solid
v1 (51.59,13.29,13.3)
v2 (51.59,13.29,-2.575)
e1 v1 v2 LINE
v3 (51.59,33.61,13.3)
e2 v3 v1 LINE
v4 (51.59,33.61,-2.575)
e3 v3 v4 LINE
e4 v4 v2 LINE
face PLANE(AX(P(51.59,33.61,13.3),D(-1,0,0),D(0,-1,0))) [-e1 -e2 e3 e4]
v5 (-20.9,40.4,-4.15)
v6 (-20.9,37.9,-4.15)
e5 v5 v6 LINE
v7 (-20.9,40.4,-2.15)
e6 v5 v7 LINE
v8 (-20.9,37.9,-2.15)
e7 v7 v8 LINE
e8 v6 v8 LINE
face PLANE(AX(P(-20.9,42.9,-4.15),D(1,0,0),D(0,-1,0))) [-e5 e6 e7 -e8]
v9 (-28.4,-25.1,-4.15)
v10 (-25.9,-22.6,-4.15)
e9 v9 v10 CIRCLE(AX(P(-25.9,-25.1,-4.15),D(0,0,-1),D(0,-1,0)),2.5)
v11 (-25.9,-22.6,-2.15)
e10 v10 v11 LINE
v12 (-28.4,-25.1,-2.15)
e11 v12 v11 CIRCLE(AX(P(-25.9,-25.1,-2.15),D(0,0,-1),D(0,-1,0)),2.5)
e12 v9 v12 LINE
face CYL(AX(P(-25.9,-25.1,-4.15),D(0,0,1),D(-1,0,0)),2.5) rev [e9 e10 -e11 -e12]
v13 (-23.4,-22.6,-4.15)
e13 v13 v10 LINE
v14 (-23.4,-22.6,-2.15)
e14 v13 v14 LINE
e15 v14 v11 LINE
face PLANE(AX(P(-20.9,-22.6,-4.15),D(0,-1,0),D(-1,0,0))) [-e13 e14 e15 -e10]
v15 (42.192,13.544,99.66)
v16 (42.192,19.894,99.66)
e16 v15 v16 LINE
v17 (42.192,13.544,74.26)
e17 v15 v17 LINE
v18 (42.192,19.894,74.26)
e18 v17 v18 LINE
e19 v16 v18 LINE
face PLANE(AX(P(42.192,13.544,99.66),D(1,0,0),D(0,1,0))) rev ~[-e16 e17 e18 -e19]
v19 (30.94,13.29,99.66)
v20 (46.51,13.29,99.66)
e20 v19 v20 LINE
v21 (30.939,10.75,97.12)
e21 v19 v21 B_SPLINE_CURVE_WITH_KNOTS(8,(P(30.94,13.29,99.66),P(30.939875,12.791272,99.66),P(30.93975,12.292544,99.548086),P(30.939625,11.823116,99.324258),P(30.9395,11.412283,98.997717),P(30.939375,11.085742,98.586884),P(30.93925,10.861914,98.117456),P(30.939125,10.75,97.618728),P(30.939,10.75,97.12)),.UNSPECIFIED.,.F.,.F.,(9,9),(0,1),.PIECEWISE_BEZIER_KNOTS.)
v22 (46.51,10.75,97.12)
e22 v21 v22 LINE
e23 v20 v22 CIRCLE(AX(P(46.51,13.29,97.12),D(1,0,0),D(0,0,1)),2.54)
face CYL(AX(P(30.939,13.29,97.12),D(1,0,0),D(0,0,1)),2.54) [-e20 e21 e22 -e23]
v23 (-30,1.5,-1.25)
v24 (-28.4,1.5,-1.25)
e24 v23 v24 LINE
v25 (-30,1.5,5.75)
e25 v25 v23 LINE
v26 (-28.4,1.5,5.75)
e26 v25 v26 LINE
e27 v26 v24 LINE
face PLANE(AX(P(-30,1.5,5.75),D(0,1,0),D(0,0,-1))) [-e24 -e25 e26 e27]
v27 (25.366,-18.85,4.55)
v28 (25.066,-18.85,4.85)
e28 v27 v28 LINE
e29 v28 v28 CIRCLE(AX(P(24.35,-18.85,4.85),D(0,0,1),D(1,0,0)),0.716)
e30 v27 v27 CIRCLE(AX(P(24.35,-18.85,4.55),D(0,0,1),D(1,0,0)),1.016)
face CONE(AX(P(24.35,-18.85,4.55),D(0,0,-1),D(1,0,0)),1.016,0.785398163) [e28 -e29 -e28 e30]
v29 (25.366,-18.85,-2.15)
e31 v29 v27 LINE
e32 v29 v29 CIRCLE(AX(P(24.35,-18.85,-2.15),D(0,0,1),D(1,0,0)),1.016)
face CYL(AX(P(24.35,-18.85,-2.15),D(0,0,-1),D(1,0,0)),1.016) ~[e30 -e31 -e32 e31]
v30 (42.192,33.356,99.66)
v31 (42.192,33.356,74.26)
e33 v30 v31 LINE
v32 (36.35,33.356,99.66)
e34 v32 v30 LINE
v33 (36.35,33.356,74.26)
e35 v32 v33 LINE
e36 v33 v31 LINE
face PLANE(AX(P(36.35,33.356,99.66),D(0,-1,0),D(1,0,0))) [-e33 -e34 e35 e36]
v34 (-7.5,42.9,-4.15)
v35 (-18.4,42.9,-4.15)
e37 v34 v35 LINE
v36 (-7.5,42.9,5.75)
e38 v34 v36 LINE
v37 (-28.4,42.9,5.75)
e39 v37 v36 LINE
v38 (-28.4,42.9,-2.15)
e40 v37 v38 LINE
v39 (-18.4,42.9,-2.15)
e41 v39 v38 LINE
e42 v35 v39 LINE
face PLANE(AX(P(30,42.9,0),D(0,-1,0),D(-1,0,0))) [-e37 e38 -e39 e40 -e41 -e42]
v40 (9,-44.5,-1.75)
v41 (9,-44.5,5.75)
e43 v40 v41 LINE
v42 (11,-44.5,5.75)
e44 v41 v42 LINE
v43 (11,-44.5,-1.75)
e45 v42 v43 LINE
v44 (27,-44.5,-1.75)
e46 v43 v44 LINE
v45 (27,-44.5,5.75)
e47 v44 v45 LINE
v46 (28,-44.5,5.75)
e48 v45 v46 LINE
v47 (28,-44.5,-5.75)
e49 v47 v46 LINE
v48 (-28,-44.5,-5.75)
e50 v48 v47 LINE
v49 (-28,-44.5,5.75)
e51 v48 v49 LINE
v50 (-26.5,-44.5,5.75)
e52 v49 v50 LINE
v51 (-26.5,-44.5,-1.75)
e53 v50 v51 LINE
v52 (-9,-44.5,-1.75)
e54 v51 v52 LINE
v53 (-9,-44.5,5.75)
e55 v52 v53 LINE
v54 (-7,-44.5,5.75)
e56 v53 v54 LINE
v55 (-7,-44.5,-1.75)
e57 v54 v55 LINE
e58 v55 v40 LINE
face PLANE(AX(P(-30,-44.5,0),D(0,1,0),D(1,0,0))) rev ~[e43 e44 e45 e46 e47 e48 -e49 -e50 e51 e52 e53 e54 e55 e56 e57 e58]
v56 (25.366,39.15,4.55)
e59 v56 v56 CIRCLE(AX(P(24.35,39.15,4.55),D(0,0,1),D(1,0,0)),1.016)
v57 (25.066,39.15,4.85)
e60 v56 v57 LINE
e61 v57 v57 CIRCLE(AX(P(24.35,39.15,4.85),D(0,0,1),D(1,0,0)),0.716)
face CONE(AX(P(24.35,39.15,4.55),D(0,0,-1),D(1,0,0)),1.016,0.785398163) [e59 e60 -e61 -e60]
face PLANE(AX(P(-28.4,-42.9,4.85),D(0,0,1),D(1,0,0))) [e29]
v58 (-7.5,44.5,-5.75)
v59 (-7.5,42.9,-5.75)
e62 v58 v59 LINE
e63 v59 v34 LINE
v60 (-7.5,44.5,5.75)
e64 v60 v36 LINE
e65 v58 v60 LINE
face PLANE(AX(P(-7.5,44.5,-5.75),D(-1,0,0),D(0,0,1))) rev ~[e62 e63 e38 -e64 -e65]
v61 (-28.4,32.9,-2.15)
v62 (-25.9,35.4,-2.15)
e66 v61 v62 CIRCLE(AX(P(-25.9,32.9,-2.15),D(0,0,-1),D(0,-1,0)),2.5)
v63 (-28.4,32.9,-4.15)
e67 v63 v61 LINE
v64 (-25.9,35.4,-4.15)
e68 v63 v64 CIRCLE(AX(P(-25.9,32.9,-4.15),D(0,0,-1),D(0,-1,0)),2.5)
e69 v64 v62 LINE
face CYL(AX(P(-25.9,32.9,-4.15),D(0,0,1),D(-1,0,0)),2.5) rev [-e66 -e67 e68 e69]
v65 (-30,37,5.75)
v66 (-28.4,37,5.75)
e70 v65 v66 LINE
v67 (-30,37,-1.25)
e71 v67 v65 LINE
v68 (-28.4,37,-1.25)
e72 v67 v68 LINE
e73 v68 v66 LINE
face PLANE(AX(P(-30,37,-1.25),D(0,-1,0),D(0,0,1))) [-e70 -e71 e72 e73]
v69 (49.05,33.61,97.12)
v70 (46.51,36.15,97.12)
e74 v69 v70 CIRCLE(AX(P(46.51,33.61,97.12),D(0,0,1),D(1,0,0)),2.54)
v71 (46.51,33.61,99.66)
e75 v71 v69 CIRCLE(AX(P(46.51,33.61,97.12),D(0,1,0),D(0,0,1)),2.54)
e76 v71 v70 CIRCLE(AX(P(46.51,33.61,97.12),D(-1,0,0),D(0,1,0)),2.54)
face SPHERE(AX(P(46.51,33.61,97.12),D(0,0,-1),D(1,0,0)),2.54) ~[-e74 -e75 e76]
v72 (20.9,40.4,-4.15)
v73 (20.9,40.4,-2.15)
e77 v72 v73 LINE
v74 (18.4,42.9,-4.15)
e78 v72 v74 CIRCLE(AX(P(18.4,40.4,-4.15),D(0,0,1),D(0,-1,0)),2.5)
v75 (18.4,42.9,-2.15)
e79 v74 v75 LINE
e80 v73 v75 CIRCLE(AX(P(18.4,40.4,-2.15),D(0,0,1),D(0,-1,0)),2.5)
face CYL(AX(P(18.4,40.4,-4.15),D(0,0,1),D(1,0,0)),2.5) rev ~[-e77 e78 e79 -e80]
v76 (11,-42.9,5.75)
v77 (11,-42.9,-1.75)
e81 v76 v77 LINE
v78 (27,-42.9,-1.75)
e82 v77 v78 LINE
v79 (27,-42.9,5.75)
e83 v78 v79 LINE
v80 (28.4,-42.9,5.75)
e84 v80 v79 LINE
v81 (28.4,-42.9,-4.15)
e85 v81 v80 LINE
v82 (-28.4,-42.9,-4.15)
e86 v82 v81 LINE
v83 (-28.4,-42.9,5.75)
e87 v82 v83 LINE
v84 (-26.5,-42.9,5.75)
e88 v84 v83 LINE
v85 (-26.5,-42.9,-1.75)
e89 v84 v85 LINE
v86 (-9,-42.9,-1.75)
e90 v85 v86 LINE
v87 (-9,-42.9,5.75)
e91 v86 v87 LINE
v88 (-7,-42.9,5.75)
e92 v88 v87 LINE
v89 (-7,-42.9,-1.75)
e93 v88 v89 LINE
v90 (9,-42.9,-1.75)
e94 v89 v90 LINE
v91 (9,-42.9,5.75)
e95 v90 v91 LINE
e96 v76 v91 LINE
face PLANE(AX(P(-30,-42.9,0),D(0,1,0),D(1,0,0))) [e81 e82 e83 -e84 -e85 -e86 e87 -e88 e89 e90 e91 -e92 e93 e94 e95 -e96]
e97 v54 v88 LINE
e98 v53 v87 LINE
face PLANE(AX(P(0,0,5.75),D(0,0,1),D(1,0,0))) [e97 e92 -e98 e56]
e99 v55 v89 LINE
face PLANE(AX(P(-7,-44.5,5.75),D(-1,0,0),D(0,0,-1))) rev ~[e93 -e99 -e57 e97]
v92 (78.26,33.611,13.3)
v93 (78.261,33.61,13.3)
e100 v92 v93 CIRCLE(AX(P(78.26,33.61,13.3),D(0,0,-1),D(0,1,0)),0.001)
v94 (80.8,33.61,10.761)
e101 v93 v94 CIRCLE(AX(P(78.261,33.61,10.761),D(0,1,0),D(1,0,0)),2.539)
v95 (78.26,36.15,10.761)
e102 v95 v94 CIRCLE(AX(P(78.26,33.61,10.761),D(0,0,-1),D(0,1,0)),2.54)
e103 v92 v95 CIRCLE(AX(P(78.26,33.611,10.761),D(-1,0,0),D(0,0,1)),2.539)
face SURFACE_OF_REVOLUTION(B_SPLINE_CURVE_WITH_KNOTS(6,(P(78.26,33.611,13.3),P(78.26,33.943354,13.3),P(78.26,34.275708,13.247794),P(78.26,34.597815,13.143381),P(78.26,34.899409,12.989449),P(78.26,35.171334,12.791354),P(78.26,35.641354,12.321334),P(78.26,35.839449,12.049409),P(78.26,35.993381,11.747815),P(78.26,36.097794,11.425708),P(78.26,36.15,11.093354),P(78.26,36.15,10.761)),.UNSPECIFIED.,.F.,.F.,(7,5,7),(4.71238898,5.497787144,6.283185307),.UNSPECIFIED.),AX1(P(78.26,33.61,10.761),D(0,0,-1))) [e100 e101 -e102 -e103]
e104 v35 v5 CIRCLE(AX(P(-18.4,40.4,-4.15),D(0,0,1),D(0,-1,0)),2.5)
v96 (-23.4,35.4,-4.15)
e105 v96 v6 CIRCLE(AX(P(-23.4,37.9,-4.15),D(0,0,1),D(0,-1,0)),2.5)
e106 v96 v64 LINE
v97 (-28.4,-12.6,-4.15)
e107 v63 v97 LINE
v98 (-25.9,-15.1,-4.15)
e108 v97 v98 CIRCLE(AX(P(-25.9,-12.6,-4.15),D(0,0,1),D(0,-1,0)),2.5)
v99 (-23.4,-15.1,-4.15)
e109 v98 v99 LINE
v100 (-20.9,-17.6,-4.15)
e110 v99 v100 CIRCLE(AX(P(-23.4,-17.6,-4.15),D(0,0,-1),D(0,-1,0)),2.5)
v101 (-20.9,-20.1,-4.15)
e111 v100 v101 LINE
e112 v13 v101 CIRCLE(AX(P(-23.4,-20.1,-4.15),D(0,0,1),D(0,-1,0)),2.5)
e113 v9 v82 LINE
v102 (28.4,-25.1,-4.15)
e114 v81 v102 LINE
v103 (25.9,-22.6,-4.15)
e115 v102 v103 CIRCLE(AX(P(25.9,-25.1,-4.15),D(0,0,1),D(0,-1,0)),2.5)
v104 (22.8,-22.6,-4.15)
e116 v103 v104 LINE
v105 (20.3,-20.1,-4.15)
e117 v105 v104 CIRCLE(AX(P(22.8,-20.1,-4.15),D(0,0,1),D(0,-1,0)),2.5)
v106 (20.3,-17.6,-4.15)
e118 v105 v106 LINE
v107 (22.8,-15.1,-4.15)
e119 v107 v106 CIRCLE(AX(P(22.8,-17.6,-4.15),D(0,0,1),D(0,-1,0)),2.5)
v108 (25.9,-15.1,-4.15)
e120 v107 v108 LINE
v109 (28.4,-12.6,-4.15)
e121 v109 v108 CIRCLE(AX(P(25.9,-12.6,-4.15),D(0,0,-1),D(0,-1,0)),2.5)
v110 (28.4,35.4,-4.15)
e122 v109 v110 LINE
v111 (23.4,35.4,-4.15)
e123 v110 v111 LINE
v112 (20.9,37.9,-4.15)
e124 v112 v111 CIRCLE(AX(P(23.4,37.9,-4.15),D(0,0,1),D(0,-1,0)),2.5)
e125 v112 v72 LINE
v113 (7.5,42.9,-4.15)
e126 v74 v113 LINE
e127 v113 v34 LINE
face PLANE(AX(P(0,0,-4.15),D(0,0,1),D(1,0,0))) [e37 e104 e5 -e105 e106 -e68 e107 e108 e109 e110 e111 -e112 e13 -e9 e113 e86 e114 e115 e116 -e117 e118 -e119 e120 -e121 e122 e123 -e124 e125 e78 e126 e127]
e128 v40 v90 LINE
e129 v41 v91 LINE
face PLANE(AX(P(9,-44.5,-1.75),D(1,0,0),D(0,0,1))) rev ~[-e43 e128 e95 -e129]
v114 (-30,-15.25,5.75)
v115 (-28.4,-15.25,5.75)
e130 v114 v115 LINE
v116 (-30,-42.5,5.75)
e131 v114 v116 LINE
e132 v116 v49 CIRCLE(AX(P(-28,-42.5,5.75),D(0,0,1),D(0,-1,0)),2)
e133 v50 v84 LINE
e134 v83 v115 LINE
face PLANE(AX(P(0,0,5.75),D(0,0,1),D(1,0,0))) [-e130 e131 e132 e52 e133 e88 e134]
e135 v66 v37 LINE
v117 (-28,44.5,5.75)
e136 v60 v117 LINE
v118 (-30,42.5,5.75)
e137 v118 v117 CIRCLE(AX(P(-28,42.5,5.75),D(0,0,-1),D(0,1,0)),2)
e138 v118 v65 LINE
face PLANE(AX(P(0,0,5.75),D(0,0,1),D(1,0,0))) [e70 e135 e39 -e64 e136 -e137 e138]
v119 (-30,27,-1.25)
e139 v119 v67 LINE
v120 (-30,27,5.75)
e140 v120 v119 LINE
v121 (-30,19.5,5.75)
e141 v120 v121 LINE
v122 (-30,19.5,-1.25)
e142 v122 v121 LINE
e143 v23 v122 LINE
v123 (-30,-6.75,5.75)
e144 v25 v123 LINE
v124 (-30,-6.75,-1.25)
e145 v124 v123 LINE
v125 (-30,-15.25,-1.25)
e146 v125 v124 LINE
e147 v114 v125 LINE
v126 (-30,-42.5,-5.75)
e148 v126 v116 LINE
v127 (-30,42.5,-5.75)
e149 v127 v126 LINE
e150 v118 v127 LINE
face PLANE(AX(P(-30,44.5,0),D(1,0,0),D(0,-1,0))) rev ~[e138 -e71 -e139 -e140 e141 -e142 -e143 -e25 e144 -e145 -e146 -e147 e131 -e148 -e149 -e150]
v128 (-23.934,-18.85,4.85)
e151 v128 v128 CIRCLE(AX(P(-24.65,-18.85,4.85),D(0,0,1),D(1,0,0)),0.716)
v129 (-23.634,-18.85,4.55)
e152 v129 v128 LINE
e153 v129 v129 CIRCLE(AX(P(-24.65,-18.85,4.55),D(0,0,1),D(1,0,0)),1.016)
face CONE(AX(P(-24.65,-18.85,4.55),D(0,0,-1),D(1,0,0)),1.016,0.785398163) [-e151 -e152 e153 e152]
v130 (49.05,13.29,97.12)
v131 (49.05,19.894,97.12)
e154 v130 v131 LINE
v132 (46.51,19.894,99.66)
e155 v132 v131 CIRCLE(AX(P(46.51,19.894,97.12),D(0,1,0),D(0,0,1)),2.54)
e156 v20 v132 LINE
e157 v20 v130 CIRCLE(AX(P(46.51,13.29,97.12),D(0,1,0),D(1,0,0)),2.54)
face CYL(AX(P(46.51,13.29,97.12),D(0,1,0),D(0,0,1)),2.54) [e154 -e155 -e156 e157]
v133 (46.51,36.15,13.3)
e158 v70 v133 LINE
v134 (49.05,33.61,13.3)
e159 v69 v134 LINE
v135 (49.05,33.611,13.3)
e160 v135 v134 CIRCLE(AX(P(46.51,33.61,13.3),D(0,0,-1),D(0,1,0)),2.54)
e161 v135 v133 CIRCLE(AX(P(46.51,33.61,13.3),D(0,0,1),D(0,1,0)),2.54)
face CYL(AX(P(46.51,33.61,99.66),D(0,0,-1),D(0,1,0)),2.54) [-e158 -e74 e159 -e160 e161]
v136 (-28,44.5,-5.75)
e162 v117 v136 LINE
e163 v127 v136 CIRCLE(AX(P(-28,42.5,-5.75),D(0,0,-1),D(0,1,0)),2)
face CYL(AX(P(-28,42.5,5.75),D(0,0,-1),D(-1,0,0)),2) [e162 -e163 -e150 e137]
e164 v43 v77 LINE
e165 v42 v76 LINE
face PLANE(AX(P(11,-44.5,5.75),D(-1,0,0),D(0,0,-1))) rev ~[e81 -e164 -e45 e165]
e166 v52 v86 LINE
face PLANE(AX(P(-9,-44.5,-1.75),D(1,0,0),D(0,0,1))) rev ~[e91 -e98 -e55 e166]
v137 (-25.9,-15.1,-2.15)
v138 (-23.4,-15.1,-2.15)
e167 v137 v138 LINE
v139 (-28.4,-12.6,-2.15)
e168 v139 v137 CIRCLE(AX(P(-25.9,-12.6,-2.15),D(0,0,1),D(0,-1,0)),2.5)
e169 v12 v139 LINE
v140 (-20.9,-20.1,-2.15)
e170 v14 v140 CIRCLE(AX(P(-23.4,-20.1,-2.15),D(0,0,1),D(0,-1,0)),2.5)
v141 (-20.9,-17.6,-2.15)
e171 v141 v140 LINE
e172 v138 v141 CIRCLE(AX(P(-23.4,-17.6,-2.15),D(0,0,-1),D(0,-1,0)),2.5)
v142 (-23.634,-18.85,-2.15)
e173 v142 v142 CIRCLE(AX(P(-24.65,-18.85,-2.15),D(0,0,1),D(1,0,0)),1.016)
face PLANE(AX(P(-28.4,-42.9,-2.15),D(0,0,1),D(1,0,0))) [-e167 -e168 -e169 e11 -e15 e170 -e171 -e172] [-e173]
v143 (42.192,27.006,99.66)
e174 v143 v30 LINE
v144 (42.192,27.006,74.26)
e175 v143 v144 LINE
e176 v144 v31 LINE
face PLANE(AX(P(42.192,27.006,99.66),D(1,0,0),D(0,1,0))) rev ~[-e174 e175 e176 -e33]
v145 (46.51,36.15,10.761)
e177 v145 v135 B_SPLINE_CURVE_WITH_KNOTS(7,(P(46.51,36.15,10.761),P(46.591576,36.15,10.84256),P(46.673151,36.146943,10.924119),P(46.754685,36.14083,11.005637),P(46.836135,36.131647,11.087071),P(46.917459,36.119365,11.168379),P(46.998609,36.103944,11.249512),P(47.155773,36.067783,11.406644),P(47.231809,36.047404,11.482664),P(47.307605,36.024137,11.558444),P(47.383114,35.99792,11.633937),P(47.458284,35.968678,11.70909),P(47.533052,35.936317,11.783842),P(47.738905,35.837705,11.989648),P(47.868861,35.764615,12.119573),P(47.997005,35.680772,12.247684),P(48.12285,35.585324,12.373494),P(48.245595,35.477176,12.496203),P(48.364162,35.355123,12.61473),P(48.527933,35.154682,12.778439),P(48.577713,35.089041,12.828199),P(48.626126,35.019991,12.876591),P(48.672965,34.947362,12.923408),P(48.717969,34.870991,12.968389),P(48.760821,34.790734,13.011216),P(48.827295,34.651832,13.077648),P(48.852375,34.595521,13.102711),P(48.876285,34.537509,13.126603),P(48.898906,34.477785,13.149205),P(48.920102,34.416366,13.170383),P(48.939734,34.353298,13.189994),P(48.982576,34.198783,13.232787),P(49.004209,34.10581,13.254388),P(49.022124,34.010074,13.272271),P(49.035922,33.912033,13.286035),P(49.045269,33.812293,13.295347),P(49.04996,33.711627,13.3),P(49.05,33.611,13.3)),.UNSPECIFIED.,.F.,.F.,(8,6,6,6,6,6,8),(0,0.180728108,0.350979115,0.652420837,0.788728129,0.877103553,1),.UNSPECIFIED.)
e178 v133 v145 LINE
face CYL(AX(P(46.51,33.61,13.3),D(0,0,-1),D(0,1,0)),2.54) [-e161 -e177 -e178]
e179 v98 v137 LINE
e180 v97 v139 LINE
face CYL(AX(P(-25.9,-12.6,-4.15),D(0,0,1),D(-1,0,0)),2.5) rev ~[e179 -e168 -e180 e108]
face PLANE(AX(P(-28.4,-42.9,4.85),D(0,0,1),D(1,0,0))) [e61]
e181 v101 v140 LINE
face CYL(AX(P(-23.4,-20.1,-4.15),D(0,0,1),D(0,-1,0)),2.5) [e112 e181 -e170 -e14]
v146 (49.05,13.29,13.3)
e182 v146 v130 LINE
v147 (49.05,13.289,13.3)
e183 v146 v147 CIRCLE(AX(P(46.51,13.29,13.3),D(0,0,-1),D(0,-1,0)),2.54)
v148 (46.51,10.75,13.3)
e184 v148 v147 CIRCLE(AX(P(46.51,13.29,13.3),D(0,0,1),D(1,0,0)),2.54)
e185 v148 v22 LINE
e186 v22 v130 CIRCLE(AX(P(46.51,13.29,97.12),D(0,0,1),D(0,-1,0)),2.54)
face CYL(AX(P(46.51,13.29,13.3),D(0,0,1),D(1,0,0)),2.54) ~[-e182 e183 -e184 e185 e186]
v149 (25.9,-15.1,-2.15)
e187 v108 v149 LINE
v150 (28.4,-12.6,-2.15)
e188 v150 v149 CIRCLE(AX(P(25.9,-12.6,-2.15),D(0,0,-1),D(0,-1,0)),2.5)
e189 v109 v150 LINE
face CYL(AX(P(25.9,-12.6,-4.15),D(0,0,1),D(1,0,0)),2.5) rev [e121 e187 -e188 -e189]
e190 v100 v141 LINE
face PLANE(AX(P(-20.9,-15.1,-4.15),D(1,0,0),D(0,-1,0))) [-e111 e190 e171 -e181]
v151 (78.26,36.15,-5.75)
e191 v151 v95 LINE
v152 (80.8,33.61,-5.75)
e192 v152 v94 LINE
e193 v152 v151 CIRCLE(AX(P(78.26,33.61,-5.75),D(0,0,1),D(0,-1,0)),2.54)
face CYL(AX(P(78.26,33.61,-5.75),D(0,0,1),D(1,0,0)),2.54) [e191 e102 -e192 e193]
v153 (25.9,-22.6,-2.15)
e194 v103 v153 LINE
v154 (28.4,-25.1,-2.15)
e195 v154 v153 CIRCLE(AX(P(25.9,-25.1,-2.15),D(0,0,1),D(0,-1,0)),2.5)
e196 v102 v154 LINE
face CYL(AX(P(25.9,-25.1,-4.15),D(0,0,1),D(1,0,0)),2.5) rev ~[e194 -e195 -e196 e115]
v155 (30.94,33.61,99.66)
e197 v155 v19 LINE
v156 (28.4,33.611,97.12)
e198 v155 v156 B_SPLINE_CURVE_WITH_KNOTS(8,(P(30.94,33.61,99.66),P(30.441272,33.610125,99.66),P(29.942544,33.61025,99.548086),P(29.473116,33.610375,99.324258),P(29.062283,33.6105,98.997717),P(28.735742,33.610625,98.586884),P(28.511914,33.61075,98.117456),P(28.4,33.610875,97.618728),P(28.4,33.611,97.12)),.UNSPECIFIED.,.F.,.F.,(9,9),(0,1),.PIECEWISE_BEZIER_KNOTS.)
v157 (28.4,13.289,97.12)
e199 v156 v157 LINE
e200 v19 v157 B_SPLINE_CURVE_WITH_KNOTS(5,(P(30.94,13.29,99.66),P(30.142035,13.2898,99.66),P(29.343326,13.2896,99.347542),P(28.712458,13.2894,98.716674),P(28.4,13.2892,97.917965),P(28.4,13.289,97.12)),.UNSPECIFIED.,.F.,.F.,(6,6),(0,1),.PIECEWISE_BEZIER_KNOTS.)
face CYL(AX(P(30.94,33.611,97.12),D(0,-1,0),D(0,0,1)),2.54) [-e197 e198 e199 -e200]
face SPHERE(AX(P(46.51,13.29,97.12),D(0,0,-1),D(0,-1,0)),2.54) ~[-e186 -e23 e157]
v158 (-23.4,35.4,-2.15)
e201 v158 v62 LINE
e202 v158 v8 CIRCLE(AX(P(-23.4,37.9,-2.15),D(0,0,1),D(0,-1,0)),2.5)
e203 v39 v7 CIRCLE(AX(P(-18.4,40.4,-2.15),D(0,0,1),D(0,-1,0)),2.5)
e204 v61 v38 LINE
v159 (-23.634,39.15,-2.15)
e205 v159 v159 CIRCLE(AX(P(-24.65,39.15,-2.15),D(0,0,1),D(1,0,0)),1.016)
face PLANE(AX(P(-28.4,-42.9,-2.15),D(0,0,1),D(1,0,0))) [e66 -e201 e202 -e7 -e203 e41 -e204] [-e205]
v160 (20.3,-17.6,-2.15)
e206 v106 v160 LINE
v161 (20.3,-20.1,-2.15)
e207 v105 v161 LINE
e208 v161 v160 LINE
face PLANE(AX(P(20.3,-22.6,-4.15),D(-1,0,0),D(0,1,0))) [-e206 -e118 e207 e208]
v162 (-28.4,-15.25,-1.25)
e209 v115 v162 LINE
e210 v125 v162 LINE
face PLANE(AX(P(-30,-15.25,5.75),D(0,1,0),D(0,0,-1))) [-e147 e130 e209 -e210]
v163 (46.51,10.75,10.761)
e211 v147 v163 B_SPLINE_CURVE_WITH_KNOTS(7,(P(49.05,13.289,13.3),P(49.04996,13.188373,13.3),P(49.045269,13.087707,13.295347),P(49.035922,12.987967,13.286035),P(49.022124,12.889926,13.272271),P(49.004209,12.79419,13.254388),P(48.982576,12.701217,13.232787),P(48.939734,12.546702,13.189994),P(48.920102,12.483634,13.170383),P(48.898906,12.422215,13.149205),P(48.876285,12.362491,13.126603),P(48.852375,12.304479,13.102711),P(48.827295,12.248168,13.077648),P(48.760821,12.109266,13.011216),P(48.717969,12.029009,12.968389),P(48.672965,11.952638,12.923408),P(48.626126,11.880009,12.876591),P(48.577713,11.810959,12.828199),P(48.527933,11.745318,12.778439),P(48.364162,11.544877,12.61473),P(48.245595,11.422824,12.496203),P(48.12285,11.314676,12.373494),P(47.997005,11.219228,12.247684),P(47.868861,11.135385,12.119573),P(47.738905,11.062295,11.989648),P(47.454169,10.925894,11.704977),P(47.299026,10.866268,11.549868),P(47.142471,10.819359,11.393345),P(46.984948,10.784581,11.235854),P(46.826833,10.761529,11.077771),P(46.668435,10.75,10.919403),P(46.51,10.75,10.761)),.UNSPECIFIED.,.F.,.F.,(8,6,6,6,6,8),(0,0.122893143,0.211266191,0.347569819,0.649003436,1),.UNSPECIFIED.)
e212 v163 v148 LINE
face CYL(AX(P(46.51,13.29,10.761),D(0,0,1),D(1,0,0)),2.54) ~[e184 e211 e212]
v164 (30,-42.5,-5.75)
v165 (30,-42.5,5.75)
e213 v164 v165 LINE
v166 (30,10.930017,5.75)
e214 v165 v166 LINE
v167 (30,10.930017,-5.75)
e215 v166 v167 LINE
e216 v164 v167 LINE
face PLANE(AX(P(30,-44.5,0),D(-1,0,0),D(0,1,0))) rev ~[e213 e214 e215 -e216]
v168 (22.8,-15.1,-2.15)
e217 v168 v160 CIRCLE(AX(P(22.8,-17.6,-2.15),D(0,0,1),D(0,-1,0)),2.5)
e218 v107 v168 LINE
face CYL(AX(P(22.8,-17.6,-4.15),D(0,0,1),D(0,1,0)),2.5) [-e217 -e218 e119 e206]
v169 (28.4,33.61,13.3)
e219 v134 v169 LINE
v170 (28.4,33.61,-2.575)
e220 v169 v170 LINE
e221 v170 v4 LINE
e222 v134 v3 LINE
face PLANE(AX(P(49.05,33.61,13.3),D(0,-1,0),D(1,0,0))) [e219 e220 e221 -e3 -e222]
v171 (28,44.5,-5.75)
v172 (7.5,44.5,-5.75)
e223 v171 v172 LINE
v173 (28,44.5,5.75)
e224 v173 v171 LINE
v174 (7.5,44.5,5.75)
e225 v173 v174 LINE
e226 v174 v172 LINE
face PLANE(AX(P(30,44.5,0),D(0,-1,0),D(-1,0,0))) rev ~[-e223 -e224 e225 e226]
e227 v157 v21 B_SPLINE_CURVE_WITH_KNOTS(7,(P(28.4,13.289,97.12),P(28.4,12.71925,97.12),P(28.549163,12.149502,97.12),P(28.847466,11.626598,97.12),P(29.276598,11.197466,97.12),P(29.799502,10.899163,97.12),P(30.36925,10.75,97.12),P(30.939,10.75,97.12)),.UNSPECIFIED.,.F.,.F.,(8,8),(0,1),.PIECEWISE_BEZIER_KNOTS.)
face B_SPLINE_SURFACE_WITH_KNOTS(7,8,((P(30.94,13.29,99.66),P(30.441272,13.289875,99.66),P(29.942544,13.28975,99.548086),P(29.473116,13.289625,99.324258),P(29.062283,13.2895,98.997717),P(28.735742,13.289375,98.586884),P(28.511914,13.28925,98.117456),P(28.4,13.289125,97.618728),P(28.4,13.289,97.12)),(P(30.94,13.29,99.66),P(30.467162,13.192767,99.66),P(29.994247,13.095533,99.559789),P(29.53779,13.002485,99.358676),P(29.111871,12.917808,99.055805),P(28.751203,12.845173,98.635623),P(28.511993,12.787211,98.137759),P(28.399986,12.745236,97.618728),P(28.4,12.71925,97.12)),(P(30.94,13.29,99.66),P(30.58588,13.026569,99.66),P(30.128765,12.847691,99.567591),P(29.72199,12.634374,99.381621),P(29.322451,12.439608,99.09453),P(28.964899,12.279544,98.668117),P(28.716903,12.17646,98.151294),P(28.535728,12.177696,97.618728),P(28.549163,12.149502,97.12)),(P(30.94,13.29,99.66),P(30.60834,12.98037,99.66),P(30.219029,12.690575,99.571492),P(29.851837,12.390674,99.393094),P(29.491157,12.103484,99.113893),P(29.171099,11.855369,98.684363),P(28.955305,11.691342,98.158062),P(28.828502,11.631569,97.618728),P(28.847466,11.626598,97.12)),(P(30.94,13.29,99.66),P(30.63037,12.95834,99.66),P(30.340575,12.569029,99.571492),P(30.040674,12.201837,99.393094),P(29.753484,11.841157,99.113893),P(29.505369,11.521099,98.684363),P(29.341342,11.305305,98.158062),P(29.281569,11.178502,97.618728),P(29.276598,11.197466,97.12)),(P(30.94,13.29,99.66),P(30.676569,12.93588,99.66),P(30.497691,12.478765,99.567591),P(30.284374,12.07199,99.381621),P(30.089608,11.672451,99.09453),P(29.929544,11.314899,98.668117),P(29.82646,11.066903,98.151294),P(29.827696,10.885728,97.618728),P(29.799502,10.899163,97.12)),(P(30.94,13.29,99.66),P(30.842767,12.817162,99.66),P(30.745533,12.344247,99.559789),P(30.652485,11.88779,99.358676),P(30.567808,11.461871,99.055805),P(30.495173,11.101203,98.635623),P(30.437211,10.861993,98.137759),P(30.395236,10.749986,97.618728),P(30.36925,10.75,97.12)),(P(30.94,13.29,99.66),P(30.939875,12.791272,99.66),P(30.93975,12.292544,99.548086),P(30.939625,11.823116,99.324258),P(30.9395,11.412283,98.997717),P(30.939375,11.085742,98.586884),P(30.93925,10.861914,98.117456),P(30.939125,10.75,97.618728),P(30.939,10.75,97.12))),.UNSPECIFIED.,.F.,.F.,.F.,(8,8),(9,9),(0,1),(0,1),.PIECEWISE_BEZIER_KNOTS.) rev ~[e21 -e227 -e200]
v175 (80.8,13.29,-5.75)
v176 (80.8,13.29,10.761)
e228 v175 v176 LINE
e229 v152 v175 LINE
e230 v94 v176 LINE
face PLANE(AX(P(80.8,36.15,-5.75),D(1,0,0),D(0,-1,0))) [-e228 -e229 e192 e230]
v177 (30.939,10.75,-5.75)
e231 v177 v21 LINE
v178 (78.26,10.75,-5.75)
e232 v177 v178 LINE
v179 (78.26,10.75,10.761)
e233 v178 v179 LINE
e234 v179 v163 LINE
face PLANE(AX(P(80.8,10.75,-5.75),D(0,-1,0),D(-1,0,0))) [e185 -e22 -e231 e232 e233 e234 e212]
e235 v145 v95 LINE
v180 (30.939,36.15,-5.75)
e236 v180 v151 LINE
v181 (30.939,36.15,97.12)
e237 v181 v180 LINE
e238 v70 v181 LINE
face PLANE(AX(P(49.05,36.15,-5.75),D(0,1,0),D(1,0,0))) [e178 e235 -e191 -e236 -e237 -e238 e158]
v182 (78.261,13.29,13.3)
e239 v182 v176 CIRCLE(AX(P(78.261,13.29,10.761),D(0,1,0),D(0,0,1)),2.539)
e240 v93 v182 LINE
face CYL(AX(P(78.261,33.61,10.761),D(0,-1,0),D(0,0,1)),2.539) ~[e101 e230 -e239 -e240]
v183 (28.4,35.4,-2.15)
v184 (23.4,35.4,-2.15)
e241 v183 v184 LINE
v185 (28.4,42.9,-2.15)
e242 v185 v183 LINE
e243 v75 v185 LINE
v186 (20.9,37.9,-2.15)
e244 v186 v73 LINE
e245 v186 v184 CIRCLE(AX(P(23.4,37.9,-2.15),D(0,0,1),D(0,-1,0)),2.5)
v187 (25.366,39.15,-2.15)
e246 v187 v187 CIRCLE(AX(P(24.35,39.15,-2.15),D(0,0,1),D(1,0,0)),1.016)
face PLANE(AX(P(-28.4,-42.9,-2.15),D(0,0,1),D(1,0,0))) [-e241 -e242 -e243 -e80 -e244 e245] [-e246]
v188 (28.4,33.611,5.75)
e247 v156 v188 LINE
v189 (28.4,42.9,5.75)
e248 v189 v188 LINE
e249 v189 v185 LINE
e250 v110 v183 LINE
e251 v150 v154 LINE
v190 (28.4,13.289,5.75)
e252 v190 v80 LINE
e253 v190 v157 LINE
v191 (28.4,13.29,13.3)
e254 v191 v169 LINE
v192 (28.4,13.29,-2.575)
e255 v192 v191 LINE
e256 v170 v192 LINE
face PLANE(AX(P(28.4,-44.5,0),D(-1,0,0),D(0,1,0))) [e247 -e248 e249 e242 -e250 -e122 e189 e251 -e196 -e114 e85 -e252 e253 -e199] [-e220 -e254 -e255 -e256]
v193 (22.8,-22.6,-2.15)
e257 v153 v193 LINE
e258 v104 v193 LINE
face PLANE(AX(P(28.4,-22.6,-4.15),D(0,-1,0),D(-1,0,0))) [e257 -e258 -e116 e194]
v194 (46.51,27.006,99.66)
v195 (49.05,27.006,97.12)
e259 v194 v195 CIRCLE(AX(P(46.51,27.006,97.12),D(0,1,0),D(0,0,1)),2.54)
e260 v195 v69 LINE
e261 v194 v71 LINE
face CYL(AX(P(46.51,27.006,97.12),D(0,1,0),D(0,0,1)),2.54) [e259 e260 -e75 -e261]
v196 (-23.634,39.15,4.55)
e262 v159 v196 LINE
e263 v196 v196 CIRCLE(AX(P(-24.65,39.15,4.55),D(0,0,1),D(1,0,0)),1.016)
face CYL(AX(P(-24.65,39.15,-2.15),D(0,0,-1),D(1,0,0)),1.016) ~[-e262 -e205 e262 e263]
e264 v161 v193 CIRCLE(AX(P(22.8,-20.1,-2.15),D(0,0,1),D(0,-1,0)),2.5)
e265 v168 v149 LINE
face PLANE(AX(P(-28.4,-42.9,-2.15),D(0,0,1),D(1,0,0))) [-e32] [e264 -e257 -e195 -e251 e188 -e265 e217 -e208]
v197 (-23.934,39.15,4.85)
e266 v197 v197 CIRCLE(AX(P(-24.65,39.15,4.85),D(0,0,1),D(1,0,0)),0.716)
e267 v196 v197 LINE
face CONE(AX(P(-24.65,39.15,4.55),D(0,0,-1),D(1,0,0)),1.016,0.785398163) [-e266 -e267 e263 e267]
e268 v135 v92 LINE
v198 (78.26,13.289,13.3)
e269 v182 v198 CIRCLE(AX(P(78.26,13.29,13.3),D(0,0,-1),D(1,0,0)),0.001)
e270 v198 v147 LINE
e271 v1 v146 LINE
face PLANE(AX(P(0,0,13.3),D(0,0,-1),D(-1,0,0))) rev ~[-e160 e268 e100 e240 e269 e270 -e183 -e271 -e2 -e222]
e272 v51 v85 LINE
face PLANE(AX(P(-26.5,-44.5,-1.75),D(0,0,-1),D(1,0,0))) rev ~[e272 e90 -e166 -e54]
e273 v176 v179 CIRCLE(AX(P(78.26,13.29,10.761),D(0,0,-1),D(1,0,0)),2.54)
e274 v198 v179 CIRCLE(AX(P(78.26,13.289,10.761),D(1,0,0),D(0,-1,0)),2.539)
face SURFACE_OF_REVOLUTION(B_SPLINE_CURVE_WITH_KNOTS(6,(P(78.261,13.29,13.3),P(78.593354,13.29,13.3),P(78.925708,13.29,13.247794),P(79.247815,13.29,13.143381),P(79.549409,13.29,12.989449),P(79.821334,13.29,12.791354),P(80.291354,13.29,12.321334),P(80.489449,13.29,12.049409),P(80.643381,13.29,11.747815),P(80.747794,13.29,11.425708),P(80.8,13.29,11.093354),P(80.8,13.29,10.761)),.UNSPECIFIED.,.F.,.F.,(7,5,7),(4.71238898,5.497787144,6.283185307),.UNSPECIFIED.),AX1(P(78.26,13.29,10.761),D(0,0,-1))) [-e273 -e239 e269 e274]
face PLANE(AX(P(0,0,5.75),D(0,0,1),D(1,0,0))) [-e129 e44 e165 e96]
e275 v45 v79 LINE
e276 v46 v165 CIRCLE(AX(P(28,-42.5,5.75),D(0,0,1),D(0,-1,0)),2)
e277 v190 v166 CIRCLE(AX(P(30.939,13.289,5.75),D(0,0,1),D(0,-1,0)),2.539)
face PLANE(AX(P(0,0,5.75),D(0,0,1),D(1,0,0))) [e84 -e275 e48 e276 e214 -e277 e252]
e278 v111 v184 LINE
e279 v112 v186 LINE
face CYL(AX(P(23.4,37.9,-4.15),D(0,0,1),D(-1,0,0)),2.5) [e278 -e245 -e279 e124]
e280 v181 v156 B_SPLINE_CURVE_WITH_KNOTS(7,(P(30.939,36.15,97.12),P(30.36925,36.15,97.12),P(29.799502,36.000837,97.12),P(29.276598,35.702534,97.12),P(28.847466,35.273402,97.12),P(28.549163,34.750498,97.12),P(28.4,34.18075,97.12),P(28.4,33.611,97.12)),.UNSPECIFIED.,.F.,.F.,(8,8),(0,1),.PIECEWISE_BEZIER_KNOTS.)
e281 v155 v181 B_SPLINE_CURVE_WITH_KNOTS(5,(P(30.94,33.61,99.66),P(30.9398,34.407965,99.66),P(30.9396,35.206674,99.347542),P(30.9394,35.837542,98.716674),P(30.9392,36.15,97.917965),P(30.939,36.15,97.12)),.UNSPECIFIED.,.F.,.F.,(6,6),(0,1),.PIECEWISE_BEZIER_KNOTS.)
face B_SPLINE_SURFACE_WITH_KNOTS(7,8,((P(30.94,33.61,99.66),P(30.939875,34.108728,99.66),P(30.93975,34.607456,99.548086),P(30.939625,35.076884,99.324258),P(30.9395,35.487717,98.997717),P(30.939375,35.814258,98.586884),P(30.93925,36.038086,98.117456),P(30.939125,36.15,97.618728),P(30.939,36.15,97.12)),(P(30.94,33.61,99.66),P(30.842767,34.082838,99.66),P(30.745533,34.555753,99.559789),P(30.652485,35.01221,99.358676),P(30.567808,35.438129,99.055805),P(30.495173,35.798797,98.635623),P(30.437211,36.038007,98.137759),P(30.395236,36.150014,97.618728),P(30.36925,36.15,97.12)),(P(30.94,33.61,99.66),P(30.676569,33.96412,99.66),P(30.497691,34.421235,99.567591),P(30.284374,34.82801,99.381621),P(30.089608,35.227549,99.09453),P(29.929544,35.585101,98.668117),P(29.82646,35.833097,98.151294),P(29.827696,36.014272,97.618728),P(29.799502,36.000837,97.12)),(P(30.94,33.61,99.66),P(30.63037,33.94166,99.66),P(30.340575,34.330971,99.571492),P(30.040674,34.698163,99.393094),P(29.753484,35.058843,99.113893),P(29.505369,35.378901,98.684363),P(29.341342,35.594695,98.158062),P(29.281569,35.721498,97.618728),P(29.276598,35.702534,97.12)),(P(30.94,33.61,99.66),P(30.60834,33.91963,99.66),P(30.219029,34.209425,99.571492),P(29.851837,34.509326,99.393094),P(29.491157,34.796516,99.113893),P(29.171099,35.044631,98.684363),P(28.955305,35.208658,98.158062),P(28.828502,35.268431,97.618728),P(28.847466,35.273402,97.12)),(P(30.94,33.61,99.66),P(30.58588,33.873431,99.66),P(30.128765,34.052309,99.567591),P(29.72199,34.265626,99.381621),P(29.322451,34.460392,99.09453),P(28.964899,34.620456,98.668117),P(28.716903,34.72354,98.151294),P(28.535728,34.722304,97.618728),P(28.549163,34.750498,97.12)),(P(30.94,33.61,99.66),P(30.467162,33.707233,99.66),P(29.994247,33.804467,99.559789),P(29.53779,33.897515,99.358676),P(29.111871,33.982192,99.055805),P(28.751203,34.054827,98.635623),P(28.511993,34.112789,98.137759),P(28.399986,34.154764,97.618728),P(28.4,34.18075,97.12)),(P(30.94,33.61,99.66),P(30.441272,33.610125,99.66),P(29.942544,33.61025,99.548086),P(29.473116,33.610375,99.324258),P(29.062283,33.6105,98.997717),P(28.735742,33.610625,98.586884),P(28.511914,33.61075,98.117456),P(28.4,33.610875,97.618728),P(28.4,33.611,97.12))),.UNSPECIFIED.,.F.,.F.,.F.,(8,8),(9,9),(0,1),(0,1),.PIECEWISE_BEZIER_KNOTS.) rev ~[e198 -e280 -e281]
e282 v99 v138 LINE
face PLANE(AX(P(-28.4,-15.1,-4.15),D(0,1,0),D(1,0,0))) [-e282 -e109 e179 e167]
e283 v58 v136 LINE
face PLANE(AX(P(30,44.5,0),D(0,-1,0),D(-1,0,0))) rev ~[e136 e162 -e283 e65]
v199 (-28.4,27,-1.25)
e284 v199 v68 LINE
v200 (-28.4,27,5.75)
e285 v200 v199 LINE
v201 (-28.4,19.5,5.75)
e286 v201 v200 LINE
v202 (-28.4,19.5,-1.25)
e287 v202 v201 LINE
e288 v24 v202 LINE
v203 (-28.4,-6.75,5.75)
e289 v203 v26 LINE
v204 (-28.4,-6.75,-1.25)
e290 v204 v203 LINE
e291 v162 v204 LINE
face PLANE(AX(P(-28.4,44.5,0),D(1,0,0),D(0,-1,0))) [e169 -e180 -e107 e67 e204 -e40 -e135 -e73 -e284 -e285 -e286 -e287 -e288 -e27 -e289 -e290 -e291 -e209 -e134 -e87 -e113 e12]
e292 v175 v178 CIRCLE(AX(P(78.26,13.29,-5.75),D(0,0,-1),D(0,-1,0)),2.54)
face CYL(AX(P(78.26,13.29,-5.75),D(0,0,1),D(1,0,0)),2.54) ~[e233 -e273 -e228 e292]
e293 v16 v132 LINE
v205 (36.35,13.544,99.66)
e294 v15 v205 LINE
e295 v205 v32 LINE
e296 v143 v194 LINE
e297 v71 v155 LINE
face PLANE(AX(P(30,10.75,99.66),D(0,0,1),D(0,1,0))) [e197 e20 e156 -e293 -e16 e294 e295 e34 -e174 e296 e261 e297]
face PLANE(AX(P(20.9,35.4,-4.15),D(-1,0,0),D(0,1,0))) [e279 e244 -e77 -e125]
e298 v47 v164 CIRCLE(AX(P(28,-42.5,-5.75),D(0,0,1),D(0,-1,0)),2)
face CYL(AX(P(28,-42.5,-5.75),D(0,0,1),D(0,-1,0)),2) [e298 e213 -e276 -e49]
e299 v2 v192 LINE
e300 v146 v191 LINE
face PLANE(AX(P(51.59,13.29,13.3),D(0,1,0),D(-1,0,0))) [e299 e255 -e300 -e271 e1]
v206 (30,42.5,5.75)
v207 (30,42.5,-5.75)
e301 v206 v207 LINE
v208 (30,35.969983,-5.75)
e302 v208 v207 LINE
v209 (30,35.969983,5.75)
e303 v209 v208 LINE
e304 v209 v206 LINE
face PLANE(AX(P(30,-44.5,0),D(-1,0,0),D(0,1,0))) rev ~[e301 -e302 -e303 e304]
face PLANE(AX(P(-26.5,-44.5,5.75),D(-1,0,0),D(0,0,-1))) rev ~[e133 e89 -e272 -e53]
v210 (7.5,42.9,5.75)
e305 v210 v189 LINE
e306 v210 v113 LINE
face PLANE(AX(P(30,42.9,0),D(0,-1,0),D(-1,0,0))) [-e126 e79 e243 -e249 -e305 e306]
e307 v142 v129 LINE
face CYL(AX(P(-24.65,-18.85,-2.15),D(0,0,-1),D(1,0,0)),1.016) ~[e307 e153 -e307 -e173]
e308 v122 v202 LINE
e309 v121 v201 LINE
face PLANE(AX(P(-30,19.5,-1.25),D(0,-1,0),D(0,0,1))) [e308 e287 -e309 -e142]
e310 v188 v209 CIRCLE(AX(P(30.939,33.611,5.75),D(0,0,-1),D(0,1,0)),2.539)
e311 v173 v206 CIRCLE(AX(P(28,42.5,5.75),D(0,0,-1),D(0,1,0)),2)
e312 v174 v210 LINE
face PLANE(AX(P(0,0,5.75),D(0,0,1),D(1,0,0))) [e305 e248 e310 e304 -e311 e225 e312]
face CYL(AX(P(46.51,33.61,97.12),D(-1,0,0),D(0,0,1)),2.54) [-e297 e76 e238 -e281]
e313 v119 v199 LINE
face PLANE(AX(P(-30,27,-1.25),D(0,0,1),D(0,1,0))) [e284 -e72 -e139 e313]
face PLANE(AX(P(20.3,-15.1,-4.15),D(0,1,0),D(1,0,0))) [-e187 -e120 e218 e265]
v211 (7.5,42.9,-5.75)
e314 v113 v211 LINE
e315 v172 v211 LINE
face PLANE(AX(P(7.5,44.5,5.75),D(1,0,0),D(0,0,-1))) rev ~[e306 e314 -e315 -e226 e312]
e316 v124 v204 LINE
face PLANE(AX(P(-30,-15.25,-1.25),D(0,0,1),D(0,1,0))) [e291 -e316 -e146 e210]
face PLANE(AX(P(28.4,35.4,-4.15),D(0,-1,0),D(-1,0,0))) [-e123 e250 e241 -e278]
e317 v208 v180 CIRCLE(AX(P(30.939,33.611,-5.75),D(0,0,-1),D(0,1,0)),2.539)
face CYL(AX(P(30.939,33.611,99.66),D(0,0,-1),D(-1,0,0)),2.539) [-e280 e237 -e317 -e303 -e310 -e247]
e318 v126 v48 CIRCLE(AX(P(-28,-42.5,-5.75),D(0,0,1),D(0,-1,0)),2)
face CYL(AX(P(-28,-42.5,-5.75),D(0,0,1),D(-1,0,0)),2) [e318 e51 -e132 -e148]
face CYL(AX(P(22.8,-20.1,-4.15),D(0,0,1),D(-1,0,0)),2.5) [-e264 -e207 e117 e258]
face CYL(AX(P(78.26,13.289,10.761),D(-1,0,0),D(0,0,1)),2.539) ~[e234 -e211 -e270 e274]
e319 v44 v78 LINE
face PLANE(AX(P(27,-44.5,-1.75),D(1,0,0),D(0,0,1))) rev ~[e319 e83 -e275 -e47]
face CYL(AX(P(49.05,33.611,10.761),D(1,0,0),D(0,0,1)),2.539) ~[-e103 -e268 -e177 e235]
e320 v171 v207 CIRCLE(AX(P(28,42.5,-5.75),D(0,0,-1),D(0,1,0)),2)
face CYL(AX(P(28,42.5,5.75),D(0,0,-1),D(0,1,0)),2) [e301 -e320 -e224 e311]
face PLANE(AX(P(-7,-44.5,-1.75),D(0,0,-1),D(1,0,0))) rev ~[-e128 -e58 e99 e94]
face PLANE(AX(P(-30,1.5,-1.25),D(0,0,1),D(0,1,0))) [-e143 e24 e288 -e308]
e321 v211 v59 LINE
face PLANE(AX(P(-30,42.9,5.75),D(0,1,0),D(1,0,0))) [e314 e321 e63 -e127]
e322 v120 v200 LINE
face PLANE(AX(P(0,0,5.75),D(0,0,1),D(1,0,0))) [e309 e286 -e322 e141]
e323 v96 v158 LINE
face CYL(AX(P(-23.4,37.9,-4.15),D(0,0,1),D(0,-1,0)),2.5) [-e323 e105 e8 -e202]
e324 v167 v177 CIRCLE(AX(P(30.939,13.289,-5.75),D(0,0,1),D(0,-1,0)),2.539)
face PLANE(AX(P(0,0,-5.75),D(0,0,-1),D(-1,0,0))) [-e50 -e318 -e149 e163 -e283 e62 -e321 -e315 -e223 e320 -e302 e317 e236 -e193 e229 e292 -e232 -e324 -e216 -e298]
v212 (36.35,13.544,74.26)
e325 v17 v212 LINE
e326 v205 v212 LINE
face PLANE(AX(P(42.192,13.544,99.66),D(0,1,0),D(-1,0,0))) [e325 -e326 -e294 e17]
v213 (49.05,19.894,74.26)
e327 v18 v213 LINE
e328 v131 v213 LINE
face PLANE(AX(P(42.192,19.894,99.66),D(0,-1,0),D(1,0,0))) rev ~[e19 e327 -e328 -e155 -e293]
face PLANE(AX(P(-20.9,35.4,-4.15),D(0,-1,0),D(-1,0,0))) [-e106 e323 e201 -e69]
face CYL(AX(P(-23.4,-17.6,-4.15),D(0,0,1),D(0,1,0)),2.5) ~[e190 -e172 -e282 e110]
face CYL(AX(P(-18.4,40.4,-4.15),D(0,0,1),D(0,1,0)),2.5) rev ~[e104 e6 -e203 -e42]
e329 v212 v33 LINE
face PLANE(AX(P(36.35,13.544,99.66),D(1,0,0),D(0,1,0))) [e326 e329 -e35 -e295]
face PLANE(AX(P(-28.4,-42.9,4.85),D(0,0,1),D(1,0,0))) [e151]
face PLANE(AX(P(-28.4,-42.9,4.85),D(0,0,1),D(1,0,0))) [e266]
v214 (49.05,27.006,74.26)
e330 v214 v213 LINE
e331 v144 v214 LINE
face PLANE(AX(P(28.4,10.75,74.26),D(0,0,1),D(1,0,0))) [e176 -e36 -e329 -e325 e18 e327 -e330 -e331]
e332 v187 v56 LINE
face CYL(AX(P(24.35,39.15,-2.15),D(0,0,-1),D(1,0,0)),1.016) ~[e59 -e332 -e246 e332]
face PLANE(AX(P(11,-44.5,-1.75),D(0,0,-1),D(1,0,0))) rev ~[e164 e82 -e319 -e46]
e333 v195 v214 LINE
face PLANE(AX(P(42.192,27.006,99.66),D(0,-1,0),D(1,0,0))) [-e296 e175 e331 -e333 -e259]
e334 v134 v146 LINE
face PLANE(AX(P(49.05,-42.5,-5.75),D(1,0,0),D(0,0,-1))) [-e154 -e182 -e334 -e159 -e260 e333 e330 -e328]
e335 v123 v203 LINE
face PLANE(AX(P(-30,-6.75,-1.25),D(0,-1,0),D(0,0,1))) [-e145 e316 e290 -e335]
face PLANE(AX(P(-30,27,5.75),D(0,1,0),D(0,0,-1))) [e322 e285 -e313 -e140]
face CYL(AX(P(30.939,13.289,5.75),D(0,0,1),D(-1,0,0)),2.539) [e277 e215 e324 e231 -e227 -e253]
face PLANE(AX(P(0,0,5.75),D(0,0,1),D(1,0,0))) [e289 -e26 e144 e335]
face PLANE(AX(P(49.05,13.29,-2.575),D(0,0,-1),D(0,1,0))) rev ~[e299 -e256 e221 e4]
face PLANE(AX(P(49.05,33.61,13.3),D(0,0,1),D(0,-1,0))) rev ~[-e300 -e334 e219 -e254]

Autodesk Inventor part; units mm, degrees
ref_plane "YZ Plane" through (0, 0, 0) normal (1, 0, 0) x (0, 1, 0)
ref_plane "XZ Plane" through (0, 0, 0) normal (0, 1, 0) x (-1, 0, 0)
ref_plane "XY Plane" through (0, 0, 0) normal (0, 0, 1) x (1, 0, 0)
sketch "Esquisse1" plane through (0, 0, 0) normal (0, 0, 1) x (1, 0, 0)
  line L0 (-30, -44.5) -> (30, -44.5)
  line L1 (30, -44.5) -> (30, 44.5)
  line L2 (30, 44.5) -> (-30, 44.5)
  line L3 (-30, 44.5) -> (-30, -44.5)
  line L4 (-30, -44.5) -> (30, 44.5) construction
  line L5 (30, -44.5) -> (-30, 44.5) construction
  point P0 (0, 0)
  dimension "Largeur_boite" = 60
  dimension "Longueur_boite" = 89
extrude "Embase" add sketch "Esquisse1" along normal mid plane 11.5
shell "Coque" thickness 1.6 removed faces 1 at (-10, 14.8333, 5.75)
sketch "Esquisse2" plane through (-28.4, -42.9, -4.15) normal (0, 0, 1) x (1, 0, 0)
  line L0 (0, 85.8) -> (7.5, 85.8)
  line L1 (7.5, 85.8) -> (7.5, 78.3)
  line L2 (7.5, 78.3) -> (0, 78.3)
  line L3 (0, 78.3) -> (0, 85.8)
  line L4 (0, 85.8) -> (7.5, 78.3) construction
  line L5 (7.5, 85.8) -> (0, 78.3) construction
  line L6 (0, 27.8) -> (7.5, 27.8)
  line L7 (7.5, 27.8) -> (7.5, 20.3)
  line L8 (7.5, 20.3) -> (0, 20.3)
  line L9 (0, 20.3) -> (0, 27.8)
  line L10 (0, 27.8) -> (7.5, 20.3) construction
  line L11 (7.5, 27.8) -> (0, 20.3) construction
  line L12 (49.3, 85.8) -> (56.8, 85.8)
  line L13 (56.8, 85.8) -> (56.8, 78.3)
  line L14 (56.8, 78.3) -> (49.3, 78.3)
  line L15 (49.3, 78.3) -> (49.3, 85.8)
  line L16 (49.3, 85.8) -> (56.8, 78.3) construction
  line L17 (56.8, 85.8) -> (49.3, 78.3) construction
  line L18 (48.7, 27.8) -> (56.8, 27.8)
  line L19 (56.8, 27.8) -> (56.8, 20.3)
  line L20 (56.8, 20.3) -> (48.7, 20.3)
  line L21 (48.7, 20.3) -> (48.7, 27.8)
  line L22 (48.7, 27.8) -> (56.8, 20.3) construction
  line L23 (56.8, 27.8) -> (48.7, 20.3) construction
  line L24 (0, 85.8) -> (56.8, 85.8) projected
  line L25 (0, 0) -> (0, 85.8) projected
  line L26 (56.8, 85.8) -> (56.8, 0) projected
  point P0 (28.4, 42.9)
  point P1 (3.75, 82.05)
  point P2 (3.75, 24.05)
  point P3 (53.05, 82.05)
  point P4 (52.75, 24.05)
  point P5 (3.75, 24.05)
  point P6 (52.75, 24.05)
  point P7 (53.05, 82.05)
  point P8 (3.75, 82.05)
  dimension "d5" = 58
  dimension "d6" = 49
  dimension "Largeur_support" = 7.5
  dimension "d8" = 7.5
  dimension "d9" = 7.5
  dimension "d10" = 7.5
extrude "Support axe" add sketch "Esquisse2" along normal blind 2
sketch "Esquisse3" plane through (-28.4, -42.9, -2.15) normal (0, 0, 1) x (1, 0, 0)
  line L0 (49.3, 85.8) -> (56.8, 85.8) construction
  line L1 (49.3, 85.8) -> (49.3, 78.3) construction
  line L2 (49.3, 78.3) -> (56.8, 78.3) construction
  line L3 (56.8, 85.8) -> (56.8, 78.3) construction
  line L4 (0, 85.8) -> (7.5, 85.8) construction
  line L5 (0, 78.3) -> (0, 85.8) construction
  line L6 (0, 78.3) -> (7.5, 78.3) construction
  line L7 (7.5, 78.3) -> (7.5, 85.8) construction
  line L8 (7.5, 27.8) -> (0, 27.8) construction
  line L9 (0, 20.3) -> (0, 27.8) construction
  line L10 (0, 20.3) -> (7.5, 20.3) construction
  line L11 (7.5, 20.3) -> (7.5, 27.8) construction
  line L12 (56.8, 27.8) -> (48.7, 27.8) construction
  line L13 (48.7, 27.8) -> (48.7, 20.3) construction
  line L14 (48.7, 20.3) -> (56.8, 20.3) construction
  line L15 (56.8, 27.8) -> (56.8, 20.3) construction
  circle A0 centre (3.75, 82.05) radius 1.016
  circle A1 centre (52.75, 82.05) radius 1.016
  circle A2 centre (52.75, 24.05) radius 1.016
  circle A3 centre (3.75, 24.05) radius 1.016
  point P0 (28.4, 42.9)
  point P1 (7.5, 24.05)
  point P2 (48.7, 24.05)
  point P3 (7.5, 82.05)
  point P4 (49.3, 82.05)
  point P5 (3.75, 78.3)
  point P6 (53.05, 78.3)
  point P7 (3.75, 20.3)
  point P8 (52.75, 20.3)
  dimension "Hauteur_axe" = 2.032
  dimension "d14" = 2.032
  dimension "d15" = 2.032
  dimension "d16" = 2.032
  dimension "d54" = 3.45
extrude "Axe" add sketch "Esquisse3" along normal blind 7
sketch "Esquisse4" plane through (-30, -44.5, -5.75) normal (0, -1, 0) x (1, 0, 0)
  line L0 (3.5, 4) -> (21, 4)
  line L1 (21, 4) -> (21, 11.5)
  line L2 (21, 11.5) -> (3.5, 11.5)
  line L3 (3.5, 11.5) -> (3.5, 4)
  line L4 (23, 4) -> (39, 4)
  line L5 (39, 4) -> (39, 11.5)
  line L6 (39, 11.5) -> (23, 11.5)
  line L7 (23, 11.5) -> (23, 4)
  line L8 (41, 4) -> (57, 4)
  line L9 (57, 4) -> (57, 11.5)
  line L10 (57, 11.5) -> (41, 11.5)
  line L11 (41, 11.5) -> (41, 4)
  line L12 (0, 11.5) -> (0, 0) projected
  line L13 (0, 11.5) -> (60, 11.5) projected
  line L14 (60, 0) -> (0, 0) projected
  point P0 (30, 5.75)
  dimension "d19" = 17.5
  dimension "d20" = 16
  dimension "d21" = 16
  dimension "d22" = 3.5
  dimension "d23" = 2
  dimension "d24" = 2
  dimension "d28" = 4
extrude "Passage USB/Ethernet" cut sketch "Esquisse4" against normal up to surface (1.6 mm away)
sketch "Esquisse6" plane through (-30, -44.5, 5.75) normal (-1, 0, 0) x (0, 0, 1)
  line L0 (-7, 64) -> (0, 64)
  line L1 (0, 64) -> (0, 46)
  line L2 (0, 46) -> (-7, 46)
  line L3 (-7, 46) -> (-7, 64)
  line L4 (-11.5, 89) -> (0, 89) projected
  line L5 (0, 89) -> (0, 0) projected
  point P0 (-5.75, 44.5)
  dimension "d29" = 25
  dimension "d30" = 18
  dimension "profondeur_passage" = 7
extrude "Passage HDMI" cut sketch "Esquisse6" against normal up to surface (1.6 mm away)
sketch "Esquisse8" plane through (-30, -44.5, -5.75) normal (-1, 0, 0) x (0, 0, 1)
  line L0 (4.5, 81.5) -> (11.5, 81.5)
  line L1 (11.5, 81.5) -> (11.5, 71.5)
  line L2 (11.5, 71.5) -> (4.5, 71.5)
  line L3 (4.5, 71.5) -> (4.5, 81.5)
  line L4 (11.5, 89) -> (11.5, 64) projected
  line L5 (0, 89) -> (11.5, 89) projected
  point P0 (5.75, 44.5)
  dimension "d34" = 10
  dimension "d35" = 7
  dimension "d36" = 7.5
extrude "Passage chargeur" cut sketch "Esquisse8" against normal up to surface (1.6 mm away)
sketch "Esquisse10" plane through (-30, 44.5, 5.75) normal (0, 1, 0) x (1, 0, 0)
  line L0 (37.5, 11.5) -> (22.5, 11.5)
  line L1 (22.5, 11.5) -> (22.5, 0)
  line L2 (22.5, 0) -> (37.5, 0)
  line L3 (37.5, 0) -> (37.5, 11.5)
  line L4 (37.5, 11.5) -> (22.5, 0) construction
  line L5 (22.5, 11.5) -> (37.5, 0) construction
  line L6 (60, 0) -> (0, 0) projected
  point P0 (30, 5.75)
  dimension "d39" = 15
extrude "Passage SD" cut sketch "Esquisse10" against normal up to surface (1.6 mm away)
sketch "Esquisse11" plane through (-30, -44.5, -5.75) normal (-1, 0, 0) x (0, 0, 1)
  line L0 (4.5, 37.75) -> (11.5, 37.75)
  line L1 (11.5, 37.75) -> (11.5, 29.25)
  line L2 (11.5, 29.25) -> (4.5, 29.25)
  line L3 (4.5, 29.25) -> (4.5, 37.75)
  line L4 (0, 89) -> (11.5, 89) projected
  line L5 (11.5, 46) -> (11.5, 0) projected
  point P0 (5.75, 44.5)
  dimension "d42" = 51.25
  dimension "d43" = 8.5
  dimension "d44" = 7
extrude "Passage Jack" cut sketch "Esquisse11" against normal up to surface (1.6 mm away)
chamfer "Chanfrein entrée sur axe" distance 0.3 angle 45 4 edges at (-25.666, 39.15, 4.85) (23.334, 39.15, 4.85) (23.334, -18.85, 4.85) (-25.666, -18.85, 4.85)
fillet "Congé coins" radius 2 4 edges at (-30, 44.5, 0) (30, 44.5, 0) (30, -44.5, 0) (-30, -44.5, 0)
fillet "Congé support axe" radius 2.5 13 edges at (-28.4, -22.6, -3.15) (-20.9, -22.6, -3.15) (-20.9, -15.1, -3.15) (-28.4, -15.1, -3.15) (-28.4, 35.4, -3.15) (-20.9, 35.4, -3.15) (-20.9, 42.9, -3.15) (20.9, 42.9, -3.15) (20.9, 35.4, -3.15) (28.4, -22.6, -3.15) (20.3, -22.6, -3.15) (20.3, -15.1, -3.15) (28.4, -15.1, -3.15)
sketch "Sketch14" plane through (30, -42.5, -5.75) normal (1, 0, 0) x (0, 0, -1)
  line L0 (0, 53.25) -> (-105.41, 53.25)
  line L1 (-105.41, 53.25) -> (-105.41, 78.65)
  line L2 (-105.41, 78.65) -> (0, 78.65)
  line L3 (0, 78.65) -> (0, 53.25)
  line L4 (0, 85) -> (-11.5, 85) projected
  line L5 (0, 85) -> (0, 0) projected
  point P0 (-5.75, 42.5)
  dimension "d59" = 105.41
  dimension "d60" = 25.4
  dimension "d61" = 6.35
extrude "Extrusion9" add sketch "Sketch14" along normal blind 19.05 and the other way blind 1.6
sketch "Sketch15" plane through (28.4, 10.75, 99.66) normal (0, 0, 1) x (1, 0, 0)
  line L0 (20.65, 2.794) -> (7.95, 2.794)
  line L1 (7.95, 2.794) -> (7.95, 22.606)
  line L2 (7.95, 22.606) -> (20.65, 22.606)
  line L3 (20.65, 22.606) -> (20.65, 2.794)
  line L4 (20.65, 0) -> (0, 0) projected
  line L5 (20.65, 25.4) -> (20.65, 0) projected
  line L6 (13.792, 2.794) -> (13.792, 22.606)
  line L7 (7.95, 2.794) -> (7.95, 22.606)
  line L8 (13.792, 9.144) -> (20.65, 9.144)
  line L9 (20.65, 0) -> (20.65, 25.4) projected
  line L10 (13.792, 16.256) -> (20.65, 16.256)
  point P0 (-28.4, -10.75)
  dimension "d66" = 12.7
  dimension "d67" = 19.812
  dimension "d68" = 2.794
  dimension "d69" = 5.842
  dimension "d70" = 7.112
  dimension "d71" = 9.144
extrude "Extrusion10" cut sketch "Sketch15" against normal blind 25.4 contours L0 L1 L2 L6 | L8 L6 L10 L3
sketch "Sketch17" plane through (0, 0, -5.75) normal (0, 0, -1) x (-1, 0, 0)
  line L0 (-49.05, 36.15) -> (-28.4, 36.15) projected
  line L1 (-49.05, 36.15) -> (-80.8, 36.15)
  line L2 (-80.8, 36.15) -> (-80.8, 10.75)
  line L3 (-80.8, 10.75) -> (-49.05, 10.75)
  line L4 (-49.05, 10.75) -> (-49.05, 36.15)
  line L5 (-30, 10.75) -> (-49.05, 10.75) projected
  point P0 (0, 0)
  dimension "d74" = 31.75
extrude "Extrusion11" add sketch "Sketch17" against normal blind 19.05
sketch "Sketch18" plane through (0, 0, 13.3) normal (0, 0, 1) x (1, 0, 0)
  line L0 (51.59, 13.29) -> (49.05, 13.29)
  line L1 (49.05, 13.29) -> (49.05, 33.61)
  line L2 (49.05, 33.61) -> (51.59, 33.61)
  line L3 (51.59, 33.61) -> (51.59, 13.29)
  line L4 (49.05, 10.75) -> (49.05, 36.15) projected
  line L5 (49.05, 10.75) -> (80.8, 10.75) projected
  point P0 (0, 0)
  dimension "d77" = 2.54
  dimension "d78" = 20.32
  dimension "d79" = 2.54
extrude "Extrusion12" cut sketch "Sketch18" against normal blind 15.875
sketch "Sketch19" plane through (49.05, -42.5, -5.75) normal (1, 0, 0) x (0, 0, -1)
  line L0 (-19.05, 55.79) -> (-3.175, 55.79)
  line L1 (-3.175, 55.79) -> (-3.175, 76.11)
  line L2 (-3.175, 76.11) -> (-19.05, 76.11)
  line L3 (-19.05, 76.11) -> (-19.05, 55.79)
  line L4 (-19.05, 76.11) -> (-3.175, 76.11) projected
  line L5 (-19.05, 55.79) -> (-3.175, 55.79) projected
  line L6 (-3.175, 55.79) -> (-3.175, 76.11) projected
  point P0 (-5.75, 42.5)
  dimension "d82" = 15.875
extrude "Extrusion13" cut sketch "Sketch19" against normal blind 20.6502
fillet "Fillet7" radius 2.54 9 edges at (28.4, 10.75, 52.705) (49.05, 10.75, 56.48) (49.05, 36.15, 56.48) (28.4, 36.15, 52.705) (80.8, 23.45, 13.3) (64.925, 10.75, 13.3) (64.925, 36.15, 13.3) (80.8, 10.75, 3.775) (80.8, 36.15, 3.775)
fillet "Fillet8" radius 2.54 9 edges at (29.1437, 11.4937, 99.66) (28.4, 23.45, 99.66) (29.1437, 35.4063, 99.66) (38.7245, 36.15, 99.66) (48.3061, 35.4061, 99.66) (49.05, 30.308, 99.66) (48.3061, 11.4939, 99.66) (49.05, 16.592, 99.66) (38.7245, 10.75, 99.66)
equation "\"d8\" = Largeur_support"
equation "\"d9\" = Largeur_support"
equation "\"d10\" = Largeur_support"
equation "\"d14\" = Hauteur_axe"
equation "\"d15\" = Hauteur_axe"
equation "\"d16\" = d14"
equation "\"d35\" = profondeur_passage"
equation "\"d44\" = profondeur_passage"
properties part number "BaseStation_3DPrint"
